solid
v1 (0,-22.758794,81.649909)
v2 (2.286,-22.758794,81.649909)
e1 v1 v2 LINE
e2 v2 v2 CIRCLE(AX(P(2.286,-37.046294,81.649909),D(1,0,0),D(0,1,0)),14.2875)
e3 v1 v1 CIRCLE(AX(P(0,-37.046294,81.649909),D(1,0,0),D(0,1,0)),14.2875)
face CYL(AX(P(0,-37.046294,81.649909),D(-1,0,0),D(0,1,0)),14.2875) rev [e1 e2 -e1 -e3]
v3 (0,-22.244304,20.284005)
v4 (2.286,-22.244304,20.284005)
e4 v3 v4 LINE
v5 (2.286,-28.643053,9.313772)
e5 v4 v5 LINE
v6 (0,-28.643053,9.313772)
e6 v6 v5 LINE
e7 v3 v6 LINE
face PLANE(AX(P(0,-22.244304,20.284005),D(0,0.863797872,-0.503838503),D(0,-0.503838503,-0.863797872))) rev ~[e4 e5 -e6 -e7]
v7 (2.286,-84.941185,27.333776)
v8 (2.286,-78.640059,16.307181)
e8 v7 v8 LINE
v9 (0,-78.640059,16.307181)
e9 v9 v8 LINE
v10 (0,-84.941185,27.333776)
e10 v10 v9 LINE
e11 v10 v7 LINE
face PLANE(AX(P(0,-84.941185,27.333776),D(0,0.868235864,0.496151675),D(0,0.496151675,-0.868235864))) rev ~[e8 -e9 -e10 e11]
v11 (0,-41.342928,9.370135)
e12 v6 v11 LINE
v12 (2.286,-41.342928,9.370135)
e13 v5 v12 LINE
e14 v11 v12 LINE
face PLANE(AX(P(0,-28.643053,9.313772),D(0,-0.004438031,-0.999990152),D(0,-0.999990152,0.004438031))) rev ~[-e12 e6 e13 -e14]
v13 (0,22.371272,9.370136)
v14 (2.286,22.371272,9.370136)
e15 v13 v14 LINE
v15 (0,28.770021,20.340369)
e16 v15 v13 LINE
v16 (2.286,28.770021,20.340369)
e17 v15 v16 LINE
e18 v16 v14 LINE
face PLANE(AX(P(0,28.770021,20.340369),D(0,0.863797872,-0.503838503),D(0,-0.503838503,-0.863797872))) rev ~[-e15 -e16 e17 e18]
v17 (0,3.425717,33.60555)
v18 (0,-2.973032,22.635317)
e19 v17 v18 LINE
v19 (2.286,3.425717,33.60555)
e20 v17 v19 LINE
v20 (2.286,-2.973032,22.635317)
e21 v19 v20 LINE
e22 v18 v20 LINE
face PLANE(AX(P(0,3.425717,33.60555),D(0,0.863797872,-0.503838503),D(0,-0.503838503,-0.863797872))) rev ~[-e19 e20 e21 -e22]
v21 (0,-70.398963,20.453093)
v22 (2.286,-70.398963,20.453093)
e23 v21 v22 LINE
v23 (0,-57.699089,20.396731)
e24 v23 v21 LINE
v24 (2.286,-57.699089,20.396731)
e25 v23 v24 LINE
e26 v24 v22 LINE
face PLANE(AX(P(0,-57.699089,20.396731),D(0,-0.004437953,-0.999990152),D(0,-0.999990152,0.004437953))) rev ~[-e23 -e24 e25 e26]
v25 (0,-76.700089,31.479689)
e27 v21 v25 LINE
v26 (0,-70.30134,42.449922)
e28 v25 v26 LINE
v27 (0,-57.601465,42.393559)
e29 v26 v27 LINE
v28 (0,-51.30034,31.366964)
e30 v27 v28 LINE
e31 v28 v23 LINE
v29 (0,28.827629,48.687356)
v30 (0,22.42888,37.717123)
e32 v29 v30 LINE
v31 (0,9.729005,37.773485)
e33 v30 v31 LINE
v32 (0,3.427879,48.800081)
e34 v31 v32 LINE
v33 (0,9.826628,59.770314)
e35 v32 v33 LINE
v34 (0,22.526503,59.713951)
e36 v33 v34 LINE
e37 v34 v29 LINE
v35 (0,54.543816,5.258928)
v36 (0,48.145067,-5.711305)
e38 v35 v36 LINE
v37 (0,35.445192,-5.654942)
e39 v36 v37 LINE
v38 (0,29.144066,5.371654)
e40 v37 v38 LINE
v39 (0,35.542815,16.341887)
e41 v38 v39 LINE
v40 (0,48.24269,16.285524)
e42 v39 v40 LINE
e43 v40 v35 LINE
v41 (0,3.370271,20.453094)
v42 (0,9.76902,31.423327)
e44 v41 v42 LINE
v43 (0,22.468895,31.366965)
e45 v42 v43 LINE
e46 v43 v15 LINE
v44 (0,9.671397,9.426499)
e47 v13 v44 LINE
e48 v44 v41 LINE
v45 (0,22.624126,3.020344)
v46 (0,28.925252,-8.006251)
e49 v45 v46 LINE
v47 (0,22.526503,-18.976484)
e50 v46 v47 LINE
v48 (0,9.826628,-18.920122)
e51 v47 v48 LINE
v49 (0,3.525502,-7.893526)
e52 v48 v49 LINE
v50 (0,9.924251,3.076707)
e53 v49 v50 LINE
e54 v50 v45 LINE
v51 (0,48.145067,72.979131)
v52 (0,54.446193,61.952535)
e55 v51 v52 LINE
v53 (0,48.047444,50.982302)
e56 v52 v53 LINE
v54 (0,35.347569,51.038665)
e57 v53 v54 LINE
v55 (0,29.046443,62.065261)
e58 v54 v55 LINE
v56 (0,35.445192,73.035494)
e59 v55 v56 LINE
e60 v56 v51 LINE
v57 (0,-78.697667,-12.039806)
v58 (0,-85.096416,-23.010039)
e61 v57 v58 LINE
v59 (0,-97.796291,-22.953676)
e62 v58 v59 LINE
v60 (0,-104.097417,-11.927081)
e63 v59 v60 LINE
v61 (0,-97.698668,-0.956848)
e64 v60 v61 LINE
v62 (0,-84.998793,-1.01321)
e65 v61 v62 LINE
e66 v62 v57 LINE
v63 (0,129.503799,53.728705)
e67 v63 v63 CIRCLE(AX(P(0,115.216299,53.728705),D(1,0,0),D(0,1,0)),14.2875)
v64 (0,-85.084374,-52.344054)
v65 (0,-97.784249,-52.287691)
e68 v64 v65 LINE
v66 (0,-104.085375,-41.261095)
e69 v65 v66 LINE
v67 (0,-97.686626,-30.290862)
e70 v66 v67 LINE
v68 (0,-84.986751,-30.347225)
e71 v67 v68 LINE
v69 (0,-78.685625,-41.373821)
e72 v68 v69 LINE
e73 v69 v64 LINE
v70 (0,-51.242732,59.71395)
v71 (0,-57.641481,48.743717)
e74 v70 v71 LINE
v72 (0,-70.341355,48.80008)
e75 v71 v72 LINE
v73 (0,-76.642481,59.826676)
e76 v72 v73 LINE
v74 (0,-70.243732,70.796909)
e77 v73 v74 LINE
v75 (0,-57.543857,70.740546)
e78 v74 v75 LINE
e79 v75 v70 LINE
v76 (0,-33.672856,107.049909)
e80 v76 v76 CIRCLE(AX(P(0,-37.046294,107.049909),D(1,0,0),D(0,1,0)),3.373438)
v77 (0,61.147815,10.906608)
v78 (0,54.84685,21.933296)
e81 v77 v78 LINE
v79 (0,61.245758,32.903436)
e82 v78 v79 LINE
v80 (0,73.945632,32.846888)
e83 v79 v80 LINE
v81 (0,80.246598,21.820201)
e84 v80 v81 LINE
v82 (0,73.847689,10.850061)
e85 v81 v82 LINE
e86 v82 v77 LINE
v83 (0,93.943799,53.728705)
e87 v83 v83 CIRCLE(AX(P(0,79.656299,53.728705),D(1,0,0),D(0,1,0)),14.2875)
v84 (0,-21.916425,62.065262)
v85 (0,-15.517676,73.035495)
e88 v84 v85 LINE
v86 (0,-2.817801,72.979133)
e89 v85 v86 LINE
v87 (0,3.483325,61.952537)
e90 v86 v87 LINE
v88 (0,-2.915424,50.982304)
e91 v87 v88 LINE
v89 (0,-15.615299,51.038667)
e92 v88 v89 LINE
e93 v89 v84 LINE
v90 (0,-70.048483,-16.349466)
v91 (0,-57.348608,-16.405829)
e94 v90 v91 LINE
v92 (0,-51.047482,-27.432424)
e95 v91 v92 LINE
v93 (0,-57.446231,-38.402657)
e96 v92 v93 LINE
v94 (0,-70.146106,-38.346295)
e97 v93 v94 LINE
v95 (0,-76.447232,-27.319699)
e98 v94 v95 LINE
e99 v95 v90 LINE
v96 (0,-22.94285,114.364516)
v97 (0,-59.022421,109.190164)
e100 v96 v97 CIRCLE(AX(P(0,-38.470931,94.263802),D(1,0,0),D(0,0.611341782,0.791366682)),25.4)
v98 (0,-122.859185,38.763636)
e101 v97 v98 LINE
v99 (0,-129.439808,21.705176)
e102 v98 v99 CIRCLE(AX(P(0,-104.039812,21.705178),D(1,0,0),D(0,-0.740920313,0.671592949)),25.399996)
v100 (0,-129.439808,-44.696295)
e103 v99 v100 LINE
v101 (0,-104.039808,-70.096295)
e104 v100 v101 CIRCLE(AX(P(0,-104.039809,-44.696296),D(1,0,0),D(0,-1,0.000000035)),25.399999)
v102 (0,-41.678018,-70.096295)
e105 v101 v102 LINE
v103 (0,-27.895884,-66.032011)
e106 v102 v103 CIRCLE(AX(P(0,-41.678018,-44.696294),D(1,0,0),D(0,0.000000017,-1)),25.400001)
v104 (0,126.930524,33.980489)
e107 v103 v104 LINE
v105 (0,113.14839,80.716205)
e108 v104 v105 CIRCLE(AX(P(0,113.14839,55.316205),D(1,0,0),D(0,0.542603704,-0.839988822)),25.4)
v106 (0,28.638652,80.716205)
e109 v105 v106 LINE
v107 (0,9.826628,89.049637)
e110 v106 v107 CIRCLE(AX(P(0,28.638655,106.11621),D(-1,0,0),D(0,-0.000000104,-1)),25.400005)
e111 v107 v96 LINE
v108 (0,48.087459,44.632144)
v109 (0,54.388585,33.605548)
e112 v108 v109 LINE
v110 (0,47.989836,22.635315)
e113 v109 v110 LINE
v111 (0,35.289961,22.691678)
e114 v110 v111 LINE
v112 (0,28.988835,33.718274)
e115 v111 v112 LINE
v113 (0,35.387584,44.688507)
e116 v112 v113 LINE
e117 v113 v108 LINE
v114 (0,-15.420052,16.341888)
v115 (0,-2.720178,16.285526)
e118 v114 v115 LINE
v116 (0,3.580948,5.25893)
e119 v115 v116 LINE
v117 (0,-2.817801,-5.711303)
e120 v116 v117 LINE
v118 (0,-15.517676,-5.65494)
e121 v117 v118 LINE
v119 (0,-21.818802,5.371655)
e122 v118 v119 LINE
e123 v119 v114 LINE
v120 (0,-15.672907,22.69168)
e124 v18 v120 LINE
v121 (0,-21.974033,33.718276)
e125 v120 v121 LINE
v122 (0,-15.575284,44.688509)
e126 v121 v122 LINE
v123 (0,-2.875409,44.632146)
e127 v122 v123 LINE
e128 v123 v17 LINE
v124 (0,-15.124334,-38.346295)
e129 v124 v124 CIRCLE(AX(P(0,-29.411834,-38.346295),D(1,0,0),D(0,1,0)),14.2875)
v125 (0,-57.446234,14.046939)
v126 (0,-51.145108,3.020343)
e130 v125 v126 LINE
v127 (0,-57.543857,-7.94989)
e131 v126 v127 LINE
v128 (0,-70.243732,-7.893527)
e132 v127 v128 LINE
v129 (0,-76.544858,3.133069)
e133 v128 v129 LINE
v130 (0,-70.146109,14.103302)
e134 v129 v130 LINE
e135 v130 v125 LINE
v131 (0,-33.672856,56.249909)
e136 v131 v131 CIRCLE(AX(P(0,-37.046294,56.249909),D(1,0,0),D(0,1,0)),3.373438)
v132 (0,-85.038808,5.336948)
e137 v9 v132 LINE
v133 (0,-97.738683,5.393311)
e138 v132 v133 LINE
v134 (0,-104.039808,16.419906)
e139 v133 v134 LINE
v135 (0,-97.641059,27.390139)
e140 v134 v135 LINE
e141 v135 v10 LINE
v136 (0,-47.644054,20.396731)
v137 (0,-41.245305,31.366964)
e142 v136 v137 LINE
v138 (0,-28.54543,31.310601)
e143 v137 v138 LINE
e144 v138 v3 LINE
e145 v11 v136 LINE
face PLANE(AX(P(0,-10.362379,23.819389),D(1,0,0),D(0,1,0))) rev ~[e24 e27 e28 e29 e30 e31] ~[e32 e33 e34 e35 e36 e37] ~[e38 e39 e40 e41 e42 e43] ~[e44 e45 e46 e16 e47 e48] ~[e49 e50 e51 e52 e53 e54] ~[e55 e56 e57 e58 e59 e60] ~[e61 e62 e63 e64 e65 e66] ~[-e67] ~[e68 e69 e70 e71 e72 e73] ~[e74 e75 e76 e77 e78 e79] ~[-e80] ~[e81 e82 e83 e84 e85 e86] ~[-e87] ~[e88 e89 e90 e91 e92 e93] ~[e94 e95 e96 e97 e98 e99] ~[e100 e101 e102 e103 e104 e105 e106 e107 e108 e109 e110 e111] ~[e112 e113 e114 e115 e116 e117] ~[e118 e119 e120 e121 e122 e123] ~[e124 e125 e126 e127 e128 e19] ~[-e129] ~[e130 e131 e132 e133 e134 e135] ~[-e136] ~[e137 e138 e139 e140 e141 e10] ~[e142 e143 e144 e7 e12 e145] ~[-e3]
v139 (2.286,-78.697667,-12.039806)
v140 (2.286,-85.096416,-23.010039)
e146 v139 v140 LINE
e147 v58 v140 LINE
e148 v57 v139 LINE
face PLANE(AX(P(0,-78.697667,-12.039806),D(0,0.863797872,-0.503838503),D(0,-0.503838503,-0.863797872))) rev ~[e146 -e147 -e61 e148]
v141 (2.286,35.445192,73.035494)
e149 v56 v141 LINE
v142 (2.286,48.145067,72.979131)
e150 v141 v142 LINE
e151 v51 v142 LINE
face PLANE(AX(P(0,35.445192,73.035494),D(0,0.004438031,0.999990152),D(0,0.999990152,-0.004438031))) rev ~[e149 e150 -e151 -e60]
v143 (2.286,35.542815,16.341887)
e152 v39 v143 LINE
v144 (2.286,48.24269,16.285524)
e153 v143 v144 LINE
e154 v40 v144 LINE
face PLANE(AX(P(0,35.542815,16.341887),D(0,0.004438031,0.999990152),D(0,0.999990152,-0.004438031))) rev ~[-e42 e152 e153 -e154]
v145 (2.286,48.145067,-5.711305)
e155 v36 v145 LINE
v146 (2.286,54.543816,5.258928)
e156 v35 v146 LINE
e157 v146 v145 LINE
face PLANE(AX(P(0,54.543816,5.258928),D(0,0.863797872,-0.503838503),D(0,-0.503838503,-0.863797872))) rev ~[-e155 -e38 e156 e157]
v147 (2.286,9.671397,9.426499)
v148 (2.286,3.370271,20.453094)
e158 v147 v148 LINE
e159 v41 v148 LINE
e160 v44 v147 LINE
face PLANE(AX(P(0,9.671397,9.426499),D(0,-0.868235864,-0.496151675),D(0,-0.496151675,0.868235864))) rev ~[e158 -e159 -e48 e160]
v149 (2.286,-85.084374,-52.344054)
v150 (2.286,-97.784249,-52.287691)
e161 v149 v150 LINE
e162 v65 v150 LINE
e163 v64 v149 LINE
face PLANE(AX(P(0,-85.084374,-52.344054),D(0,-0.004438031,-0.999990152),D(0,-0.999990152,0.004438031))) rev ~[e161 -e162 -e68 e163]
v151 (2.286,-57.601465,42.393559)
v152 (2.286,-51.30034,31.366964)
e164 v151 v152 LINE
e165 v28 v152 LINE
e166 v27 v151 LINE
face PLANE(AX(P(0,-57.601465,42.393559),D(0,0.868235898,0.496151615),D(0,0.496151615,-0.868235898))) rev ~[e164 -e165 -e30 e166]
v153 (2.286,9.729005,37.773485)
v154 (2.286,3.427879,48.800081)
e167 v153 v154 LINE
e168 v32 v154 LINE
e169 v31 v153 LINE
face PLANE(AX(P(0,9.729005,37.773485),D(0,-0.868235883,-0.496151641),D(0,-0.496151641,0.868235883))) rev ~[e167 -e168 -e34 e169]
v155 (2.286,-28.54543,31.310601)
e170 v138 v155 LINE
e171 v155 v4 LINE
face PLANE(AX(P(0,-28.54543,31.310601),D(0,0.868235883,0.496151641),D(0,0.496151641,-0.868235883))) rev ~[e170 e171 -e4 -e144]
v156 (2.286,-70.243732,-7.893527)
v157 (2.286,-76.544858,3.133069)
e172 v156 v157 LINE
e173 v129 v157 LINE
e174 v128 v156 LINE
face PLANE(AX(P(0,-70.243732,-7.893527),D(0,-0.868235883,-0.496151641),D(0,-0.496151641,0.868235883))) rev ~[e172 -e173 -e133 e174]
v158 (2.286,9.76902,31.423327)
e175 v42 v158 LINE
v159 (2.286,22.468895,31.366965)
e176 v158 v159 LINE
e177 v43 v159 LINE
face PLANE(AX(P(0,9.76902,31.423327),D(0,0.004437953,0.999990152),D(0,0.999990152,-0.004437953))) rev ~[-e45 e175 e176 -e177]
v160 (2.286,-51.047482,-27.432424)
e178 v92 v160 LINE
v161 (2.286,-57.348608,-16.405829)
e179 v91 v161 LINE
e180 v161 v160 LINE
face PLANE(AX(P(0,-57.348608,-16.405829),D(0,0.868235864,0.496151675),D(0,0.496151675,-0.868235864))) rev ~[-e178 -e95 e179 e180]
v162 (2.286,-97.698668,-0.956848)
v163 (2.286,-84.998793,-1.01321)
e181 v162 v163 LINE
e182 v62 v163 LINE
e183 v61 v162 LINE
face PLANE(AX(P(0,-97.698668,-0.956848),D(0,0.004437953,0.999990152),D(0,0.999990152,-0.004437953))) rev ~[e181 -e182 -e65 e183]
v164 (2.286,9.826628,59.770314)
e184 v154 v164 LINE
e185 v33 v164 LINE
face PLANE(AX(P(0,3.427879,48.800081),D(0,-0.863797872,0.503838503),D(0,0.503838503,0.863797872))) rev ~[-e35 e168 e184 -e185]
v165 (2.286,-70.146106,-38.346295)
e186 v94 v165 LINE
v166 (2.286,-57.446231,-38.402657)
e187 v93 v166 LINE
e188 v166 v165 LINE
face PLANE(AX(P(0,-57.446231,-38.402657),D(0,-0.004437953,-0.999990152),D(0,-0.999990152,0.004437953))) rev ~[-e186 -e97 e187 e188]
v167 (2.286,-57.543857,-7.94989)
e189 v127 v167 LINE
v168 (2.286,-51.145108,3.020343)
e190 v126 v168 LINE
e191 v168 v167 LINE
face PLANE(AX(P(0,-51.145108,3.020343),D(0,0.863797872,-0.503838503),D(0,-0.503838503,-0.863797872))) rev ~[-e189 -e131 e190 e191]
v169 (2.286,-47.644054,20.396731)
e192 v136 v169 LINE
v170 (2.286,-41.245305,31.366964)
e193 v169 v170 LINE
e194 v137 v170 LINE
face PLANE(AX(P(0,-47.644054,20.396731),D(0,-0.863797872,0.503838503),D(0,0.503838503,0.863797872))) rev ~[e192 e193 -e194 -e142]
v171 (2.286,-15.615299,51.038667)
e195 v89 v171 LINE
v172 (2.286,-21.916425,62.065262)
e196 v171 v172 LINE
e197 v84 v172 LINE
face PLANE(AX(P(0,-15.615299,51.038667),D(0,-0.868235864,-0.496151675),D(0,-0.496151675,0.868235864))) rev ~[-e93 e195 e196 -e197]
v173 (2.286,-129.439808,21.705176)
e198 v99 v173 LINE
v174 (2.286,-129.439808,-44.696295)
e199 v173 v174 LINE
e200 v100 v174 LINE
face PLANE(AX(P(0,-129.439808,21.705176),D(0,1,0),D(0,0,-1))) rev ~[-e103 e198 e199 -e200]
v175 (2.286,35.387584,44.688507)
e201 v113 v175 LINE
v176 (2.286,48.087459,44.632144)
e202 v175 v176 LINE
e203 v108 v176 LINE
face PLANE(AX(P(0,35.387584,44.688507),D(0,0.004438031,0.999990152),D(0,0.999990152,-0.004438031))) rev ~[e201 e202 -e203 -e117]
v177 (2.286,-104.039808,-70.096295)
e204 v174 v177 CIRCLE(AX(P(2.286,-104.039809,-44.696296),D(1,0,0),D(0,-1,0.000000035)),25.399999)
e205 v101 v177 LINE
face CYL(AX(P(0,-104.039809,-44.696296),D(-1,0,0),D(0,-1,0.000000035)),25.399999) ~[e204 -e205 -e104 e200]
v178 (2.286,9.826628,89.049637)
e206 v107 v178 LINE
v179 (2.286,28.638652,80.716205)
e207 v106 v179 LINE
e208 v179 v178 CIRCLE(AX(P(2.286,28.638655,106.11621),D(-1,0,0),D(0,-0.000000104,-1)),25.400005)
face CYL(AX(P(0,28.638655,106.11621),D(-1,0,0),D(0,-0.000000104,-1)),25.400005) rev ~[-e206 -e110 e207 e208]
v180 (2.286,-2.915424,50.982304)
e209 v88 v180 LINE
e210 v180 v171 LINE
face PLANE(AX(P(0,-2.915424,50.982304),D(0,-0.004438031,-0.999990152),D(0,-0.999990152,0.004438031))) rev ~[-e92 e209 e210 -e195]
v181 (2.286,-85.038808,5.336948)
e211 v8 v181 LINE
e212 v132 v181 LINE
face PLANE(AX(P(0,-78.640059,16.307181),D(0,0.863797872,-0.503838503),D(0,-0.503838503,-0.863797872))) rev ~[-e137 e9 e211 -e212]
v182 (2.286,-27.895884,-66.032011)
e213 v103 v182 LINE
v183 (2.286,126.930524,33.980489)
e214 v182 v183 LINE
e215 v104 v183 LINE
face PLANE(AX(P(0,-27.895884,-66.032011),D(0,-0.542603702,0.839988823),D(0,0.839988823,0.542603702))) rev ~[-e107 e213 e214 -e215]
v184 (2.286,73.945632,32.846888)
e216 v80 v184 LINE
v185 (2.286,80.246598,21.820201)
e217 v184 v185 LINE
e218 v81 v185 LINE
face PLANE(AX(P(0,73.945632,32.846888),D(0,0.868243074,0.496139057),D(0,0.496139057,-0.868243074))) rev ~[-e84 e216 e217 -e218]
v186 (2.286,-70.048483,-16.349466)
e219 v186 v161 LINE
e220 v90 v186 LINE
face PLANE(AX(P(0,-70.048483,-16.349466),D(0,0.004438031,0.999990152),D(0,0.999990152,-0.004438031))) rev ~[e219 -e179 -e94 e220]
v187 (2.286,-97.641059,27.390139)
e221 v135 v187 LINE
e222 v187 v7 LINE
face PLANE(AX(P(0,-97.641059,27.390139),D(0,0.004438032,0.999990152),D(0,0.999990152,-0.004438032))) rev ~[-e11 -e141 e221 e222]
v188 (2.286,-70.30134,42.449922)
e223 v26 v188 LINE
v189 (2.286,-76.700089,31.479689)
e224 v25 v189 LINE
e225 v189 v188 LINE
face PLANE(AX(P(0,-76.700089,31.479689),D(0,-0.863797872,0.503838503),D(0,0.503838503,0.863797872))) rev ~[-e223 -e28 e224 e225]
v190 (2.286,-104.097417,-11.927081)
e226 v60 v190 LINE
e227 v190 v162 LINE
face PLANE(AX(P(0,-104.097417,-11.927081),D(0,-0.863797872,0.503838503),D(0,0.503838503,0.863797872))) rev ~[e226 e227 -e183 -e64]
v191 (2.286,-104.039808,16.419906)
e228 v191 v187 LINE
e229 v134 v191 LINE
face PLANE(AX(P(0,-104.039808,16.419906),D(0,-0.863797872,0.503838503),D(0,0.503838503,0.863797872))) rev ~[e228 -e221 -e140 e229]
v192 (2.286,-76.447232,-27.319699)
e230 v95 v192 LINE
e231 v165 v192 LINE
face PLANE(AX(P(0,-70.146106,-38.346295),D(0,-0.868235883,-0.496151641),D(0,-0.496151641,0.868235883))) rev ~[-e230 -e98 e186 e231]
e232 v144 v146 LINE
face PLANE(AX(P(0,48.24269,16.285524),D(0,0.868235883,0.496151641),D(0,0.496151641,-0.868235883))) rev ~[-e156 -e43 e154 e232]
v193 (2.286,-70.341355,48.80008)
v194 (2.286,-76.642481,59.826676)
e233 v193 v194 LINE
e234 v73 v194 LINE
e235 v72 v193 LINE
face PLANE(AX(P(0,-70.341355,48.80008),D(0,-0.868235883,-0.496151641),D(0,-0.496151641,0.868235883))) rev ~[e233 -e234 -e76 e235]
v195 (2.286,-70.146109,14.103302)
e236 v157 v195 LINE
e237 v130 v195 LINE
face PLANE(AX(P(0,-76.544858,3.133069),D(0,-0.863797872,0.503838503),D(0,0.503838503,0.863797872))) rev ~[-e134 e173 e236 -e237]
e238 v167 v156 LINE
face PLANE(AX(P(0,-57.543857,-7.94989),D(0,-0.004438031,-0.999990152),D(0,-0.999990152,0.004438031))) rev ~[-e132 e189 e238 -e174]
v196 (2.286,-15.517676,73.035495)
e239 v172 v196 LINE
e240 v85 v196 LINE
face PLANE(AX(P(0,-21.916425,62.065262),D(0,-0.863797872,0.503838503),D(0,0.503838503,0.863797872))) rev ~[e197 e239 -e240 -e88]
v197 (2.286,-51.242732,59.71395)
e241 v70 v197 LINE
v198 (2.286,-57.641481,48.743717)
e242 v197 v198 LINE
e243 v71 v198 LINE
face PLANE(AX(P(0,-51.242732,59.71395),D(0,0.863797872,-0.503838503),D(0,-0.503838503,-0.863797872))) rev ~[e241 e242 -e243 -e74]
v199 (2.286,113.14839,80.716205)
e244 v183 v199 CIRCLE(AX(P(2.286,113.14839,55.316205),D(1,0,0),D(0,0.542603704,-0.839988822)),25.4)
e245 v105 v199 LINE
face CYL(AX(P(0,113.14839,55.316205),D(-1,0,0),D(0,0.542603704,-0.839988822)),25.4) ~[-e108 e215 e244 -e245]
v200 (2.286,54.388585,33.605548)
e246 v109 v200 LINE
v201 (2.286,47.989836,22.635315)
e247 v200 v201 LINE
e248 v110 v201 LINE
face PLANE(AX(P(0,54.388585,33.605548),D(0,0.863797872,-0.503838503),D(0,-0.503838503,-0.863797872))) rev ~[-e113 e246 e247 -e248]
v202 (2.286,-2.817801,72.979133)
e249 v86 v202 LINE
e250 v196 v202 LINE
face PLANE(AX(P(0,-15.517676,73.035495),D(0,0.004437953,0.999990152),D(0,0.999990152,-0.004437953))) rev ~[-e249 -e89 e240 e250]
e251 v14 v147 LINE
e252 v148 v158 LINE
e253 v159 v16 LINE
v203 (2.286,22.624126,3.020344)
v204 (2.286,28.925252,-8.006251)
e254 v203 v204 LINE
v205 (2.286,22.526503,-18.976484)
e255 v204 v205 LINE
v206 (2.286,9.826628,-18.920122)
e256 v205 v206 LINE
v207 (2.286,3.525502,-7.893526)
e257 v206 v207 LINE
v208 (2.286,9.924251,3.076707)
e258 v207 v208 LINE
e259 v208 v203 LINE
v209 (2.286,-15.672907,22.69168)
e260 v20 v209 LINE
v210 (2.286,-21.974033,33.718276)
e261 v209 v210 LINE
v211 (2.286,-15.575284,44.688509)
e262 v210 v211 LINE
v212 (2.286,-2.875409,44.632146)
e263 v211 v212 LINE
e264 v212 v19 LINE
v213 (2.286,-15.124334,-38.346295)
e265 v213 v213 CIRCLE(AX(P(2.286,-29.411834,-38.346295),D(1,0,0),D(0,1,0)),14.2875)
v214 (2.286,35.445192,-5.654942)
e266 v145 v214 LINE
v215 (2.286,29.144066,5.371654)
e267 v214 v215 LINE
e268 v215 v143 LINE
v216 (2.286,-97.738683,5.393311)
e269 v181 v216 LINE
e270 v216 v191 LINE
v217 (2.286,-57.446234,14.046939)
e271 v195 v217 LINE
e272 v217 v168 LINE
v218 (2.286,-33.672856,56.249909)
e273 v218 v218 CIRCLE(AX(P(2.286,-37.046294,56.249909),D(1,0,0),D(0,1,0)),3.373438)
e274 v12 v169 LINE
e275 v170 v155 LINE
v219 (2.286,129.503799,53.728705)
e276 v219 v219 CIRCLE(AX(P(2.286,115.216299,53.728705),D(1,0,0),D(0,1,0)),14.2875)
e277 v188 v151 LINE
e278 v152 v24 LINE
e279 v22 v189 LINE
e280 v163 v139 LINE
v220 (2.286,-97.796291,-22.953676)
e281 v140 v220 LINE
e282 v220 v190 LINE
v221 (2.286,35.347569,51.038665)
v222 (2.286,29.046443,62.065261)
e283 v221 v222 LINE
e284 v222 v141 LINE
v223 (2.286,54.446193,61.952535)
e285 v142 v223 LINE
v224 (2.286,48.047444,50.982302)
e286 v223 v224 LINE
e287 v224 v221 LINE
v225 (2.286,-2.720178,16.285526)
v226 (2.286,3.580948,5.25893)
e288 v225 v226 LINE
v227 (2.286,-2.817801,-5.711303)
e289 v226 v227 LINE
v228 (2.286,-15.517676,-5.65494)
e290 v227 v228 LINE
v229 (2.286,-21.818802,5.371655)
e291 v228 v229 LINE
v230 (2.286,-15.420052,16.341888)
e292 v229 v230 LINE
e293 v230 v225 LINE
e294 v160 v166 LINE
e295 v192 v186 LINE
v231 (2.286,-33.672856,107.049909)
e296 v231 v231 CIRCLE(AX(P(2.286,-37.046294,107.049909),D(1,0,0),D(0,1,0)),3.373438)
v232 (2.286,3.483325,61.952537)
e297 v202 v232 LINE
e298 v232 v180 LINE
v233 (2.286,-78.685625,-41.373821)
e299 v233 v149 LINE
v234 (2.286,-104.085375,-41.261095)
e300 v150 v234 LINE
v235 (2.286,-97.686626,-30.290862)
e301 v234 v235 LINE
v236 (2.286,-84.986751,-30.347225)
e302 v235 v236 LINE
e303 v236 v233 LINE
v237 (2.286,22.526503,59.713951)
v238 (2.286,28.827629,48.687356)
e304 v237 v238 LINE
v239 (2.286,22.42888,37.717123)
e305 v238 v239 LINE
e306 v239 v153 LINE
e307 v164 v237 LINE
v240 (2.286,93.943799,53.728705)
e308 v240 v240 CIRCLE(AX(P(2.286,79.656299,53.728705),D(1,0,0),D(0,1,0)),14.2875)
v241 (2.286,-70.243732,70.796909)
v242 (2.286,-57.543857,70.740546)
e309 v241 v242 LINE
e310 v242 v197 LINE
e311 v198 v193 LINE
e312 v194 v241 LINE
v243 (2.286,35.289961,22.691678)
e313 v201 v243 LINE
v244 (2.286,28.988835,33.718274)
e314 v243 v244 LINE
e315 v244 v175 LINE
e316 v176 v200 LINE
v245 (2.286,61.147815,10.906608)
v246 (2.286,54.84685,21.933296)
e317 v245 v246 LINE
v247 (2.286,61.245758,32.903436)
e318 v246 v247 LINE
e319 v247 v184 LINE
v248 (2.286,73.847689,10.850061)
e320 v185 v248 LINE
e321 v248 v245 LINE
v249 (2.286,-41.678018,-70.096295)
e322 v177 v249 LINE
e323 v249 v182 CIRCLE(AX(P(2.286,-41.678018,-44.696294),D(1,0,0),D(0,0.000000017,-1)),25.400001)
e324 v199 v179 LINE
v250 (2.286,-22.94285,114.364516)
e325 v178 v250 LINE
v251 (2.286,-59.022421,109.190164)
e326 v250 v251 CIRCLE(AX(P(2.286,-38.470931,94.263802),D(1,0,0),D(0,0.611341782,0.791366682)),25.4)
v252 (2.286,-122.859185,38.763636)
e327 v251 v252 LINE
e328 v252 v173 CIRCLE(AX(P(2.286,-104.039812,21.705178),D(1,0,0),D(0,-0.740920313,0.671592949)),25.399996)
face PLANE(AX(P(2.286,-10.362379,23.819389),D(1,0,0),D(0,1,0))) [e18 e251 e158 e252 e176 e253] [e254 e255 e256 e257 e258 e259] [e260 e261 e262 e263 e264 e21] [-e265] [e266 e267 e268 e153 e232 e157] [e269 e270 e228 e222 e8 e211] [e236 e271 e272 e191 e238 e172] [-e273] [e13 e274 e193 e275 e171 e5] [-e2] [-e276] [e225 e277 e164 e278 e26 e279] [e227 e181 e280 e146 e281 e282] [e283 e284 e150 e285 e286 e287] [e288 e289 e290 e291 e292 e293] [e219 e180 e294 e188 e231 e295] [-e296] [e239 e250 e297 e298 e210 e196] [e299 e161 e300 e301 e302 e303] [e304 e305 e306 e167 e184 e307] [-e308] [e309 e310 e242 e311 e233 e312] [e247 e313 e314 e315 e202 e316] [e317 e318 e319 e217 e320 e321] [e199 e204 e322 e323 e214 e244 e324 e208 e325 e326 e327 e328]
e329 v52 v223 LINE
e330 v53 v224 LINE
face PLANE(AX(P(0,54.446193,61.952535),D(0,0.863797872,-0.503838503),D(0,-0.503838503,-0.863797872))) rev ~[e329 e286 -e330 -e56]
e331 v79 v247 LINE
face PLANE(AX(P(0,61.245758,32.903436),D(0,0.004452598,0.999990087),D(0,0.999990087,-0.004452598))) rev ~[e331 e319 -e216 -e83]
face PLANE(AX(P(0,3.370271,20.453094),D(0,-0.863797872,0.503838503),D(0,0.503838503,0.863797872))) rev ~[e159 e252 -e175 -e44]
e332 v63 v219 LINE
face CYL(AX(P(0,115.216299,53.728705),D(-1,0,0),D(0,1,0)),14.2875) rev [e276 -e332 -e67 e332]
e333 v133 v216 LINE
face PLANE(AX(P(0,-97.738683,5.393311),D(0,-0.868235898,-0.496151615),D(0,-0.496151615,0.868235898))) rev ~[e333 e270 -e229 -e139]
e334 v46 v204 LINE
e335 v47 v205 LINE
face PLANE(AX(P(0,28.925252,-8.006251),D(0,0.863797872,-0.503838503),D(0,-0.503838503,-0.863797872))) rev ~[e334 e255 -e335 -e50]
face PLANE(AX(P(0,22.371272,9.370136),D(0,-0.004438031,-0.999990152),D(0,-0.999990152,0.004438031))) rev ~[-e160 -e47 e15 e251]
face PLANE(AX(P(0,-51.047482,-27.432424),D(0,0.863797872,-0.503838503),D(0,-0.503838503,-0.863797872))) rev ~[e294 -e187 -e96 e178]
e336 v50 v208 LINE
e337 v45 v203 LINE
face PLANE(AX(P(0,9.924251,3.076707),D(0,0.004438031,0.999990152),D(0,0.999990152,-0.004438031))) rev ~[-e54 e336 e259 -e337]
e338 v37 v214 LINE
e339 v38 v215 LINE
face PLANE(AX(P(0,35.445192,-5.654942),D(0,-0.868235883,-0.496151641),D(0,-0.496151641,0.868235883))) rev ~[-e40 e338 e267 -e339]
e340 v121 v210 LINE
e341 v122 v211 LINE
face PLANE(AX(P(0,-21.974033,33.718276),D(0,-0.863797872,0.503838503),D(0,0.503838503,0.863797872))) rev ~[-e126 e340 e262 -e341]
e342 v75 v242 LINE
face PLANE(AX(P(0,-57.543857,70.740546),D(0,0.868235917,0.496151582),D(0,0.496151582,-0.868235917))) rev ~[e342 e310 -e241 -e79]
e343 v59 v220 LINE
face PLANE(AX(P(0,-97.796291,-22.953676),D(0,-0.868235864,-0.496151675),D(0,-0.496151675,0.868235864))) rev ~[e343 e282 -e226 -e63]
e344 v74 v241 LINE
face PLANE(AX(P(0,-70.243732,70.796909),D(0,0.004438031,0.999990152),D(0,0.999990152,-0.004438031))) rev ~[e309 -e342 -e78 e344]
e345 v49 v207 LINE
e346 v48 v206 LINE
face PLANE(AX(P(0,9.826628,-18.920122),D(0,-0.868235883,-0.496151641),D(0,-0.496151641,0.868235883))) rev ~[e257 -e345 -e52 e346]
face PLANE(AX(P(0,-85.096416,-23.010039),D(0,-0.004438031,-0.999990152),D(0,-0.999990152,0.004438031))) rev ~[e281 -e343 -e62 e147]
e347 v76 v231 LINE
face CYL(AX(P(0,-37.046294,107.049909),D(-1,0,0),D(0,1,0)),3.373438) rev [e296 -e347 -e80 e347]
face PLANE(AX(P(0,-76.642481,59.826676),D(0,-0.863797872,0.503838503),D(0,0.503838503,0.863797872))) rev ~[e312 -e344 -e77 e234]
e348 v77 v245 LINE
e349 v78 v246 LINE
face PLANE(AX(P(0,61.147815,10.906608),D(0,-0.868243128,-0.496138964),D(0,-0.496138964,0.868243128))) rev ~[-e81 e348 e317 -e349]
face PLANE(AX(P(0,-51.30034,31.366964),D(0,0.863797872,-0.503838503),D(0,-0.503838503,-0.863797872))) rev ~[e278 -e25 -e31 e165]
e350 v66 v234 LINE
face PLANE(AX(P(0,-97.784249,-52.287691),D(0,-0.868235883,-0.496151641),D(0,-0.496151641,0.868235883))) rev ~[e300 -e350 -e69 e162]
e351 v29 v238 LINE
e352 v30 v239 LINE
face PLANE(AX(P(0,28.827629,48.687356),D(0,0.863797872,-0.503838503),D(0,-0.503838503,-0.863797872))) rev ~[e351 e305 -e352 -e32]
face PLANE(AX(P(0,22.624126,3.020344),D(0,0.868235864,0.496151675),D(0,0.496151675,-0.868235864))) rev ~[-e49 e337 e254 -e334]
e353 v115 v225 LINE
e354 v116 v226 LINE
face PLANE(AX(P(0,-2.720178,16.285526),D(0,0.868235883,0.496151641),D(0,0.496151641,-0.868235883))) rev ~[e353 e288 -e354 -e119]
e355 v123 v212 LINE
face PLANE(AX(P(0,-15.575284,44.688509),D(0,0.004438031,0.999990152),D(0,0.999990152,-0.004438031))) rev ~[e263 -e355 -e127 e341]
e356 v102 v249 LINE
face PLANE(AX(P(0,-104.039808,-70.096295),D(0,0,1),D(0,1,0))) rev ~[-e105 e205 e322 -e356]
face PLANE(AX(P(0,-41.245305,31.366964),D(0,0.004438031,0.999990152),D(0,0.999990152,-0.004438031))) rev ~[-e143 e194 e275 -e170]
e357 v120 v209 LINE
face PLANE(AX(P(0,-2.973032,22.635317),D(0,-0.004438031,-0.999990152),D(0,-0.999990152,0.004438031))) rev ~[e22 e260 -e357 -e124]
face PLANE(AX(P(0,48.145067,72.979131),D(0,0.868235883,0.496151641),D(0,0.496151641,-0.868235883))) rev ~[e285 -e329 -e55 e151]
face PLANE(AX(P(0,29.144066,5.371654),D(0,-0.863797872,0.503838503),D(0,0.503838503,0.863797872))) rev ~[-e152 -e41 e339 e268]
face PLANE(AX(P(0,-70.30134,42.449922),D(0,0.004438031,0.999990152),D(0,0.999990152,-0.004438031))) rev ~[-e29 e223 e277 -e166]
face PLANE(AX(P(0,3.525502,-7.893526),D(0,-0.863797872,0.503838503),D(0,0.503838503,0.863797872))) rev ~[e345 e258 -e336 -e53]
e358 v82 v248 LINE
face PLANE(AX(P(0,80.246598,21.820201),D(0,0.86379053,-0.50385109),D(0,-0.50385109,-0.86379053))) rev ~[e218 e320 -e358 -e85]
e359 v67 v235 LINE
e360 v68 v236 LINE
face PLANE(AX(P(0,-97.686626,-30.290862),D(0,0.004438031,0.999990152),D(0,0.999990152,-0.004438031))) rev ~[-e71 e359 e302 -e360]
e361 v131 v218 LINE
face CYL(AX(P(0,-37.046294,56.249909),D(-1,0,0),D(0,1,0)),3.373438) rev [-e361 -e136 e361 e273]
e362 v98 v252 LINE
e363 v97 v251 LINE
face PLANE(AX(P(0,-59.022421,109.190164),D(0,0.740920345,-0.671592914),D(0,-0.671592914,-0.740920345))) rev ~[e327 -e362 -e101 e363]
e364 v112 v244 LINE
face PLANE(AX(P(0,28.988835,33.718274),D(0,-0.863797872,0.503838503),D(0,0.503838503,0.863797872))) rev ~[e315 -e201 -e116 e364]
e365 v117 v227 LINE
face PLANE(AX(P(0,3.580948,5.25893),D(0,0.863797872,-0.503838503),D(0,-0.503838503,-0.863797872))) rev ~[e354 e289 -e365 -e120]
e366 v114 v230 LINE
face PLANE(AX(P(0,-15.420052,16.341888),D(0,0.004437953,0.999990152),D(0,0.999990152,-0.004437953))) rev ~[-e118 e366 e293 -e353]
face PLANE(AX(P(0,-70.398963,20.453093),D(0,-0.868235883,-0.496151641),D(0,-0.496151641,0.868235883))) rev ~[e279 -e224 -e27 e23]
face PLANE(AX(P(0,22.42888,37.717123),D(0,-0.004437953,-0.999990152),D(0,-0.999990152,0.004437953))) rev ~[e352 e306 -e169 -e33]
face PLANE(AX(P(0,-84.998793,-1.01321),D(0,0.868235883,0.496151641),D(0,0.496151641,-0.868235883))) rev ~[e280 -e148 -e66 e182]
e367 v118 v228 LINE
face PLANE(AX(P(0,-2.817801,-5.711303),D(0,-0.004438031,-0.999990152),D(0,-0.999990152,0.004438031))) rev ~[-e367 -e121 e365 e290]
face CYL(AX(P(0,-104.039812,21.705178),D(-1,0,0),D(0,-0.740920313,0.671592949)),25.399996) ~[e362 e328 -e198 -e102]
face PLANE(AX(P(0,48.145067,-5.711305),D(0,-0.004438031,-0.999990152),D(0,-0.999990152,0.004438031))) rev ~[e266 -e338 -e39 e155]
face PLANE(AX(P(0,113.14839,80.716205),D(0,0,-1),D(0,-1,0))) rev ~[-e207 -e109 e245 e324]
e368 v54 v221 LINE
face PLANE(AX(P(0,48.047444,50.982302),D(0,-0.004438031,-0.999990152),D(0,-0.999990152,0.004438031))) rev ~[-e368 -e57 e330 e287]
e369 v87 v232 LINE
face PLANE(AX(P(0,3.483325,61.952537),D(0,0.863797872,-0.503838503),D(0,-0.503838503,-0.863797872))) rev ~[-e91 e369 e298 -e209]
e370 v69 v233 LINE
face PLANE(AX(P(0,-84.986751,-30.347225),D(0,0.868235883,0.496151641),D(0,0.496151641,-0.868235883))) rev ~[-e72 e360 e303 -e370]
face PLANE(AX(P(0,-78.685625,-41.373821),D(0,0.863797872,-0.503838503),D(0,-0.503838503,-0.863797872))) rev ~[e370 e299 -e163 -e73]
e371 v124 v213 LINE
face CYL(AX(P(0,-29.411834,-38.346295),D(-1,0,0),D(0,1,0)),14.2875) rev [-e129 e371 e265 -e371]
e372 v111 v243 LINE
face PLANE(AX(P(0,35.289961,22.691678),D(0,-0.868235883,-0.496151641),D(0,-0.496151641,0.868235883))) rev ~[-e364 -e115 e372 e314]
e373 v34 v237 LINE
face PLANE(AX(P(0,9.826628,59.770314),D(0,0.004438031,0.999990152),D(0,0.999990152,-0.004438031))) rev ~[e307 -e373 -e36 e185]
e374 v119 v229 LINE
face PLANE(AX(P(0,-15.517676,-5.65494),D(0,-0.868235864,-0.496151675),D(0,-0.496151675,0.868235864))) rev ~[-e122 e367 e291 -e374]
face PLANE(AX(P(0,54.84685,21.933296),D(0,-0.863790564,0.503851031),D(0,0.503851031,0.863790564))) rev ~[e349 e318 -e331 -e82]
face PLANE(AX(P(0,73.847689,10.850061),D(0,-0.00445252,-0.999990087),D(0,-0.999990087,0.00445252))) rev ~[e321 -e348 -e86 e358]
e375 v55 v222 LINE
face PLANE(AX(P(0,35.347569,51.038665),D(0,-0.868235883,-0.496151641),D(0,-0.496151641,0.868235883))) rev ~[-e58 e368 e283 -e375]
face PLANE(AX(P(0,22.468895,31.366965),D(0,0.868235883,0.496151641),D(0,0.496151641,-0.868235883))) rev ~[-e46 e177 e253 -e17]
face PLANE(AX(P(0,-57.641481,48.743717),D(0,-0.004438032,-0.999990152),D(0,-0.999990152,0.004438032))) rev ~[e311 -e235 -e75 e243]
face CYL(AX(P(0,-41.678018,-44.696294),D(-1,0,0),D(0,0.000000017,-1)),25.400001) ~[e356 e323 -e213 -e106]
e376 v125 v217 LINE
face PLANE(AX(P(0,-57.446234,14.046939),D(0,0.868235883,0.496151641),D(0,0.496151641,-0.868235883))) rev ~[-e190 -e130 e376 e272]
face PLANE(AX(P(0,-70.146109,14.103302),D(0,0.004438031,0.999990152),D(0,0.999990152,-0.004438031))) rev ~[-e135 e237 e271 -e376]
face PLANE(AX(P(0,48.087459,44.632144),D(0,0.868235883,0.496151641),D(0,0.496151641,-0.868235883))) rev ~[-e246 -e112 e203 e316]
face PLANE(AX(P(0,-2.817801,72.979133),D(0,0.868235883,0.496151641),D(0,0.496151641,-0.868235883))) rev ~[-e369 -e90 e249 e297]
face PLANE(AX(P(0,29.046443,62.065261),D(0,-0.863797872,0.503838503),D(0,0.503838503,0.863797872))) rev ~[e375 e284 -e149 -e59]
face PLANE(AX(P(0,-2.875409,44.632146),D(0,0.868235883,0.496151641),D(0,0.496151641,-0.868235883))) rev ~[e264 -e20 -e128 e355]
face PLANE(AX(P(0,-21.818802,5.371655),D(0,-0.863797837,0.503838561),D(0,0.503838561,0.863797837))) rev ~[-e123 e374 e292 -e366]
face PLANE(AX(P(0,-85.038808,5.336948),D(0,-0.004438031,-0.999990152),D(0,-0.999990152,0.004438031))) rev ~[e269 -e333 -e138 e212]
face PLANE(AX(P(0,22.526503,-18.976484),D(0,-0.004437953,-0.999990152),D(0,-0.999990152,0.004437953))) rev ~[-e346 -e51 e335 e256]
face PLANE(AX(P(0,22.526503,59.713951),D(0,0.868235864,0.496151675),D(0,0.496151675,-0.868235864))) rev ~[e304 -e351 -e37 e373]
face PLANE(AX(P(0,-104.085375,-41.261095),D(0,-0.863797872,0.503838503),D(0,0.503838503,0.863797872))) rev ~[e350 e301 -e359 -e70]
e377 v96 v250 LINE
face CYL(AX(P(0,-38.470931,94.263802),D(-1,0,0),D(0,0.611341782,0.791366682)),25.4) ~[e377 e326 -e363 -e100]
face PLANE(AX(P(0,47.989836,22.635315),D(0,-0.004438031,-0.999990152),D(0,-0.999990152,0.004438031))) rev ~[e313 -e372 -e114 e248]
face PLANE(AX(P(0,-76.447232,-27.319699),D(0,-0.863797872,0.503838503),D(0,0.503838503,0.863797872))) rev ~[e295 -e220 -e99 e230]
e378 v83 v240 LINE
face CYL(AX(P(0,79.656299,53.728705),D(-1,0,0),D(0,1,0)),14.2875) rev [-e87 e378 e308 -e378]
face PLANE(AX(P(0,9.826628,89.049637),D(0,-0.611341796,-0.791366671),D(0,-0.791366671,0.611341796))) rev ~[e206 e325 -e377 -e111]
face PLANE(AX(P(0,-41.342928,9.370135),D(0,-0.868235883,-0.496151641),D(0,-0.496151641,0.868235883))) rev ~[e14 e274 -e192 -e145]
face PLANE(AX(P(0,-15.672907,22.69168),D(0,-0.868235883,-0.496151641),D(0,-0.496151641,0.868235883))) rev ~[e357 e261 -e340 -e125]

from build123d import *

# Parameters (mm, degrees)
F0_R     = 14.2875
F0_R_2   = 3.373438
F1_DEPTH = 2.286


with BuildPart() as f1:
    # F0 (on Right) → F1 (new body)
    with BuildSketch(Plane.YZ):
        with BuildLine():
            ThreePointArc((-41.678018, -70.096295), (-34.493562, -69.059045), (-27.895884, -66.032011))
            Line((-27.895884, -66.032011), (126.930524, 33.980489))
            ThreePointArc((126.930524, 33.980489), (137.51114, 62.500661), (113.14839, 80.716205))
            Line((113.14839, 80.716205), (28.638652, 80.716205))
            ThreePointArc((28.638652, 80.716205), (18.351058, 82.892825), (9.826628, 89.049637))
            Line((9.826628, 89.049637), (-22.94285, 114.364516))
            ThreePointArc((-22.94285, 114.364516), (-42.076779, 119.406552), (-59.022421, 109.190164))
            Line((-59.022421, 109.190164), (-122.859185, 38.763636))
            ThreePointArc((-122.859185, 38.763636), (-127.737616, 30.847053), (-129.439808, 21.705176))
            Line((-129.439808, 21.705176), (-129.439808, -44.696295))
            ThreePointArc((-129.439808, -44.696295), (-122.000321, -62.656807), (-104.039808, -70.096295))
            Line((-104.039808, -70.096295), (-41.678018, -70.096295))
        make_face()
        Polygon((-85.084374, -52.344054), (-97.784249, -52.287691), (-104.085375, -41.261095), (-97.686626, -30.290862), (-84.986751, -30.347225), (-78.685625, -41.373821), align=None, mode=Mode.SUBTRACT)
        Polygon((-57.446231, -38.402657), (-70.146106, -38.346295), (-76.447232, -27.319699), (-70.048483, -16.349466), (-57.348608, -16.405829), (-51.047482, -27.432424), align=None, mode=Mode.SUBTRACT)
        with Locations((-29.411834, -38.346295)):
            Circle(F0_R, mode=Mode.SUBTRACT)
        Polygon((-85.096416, -23.010039), (-97.796291, -22.953676), (-104.097417, -11.927081), (-97.698668, -0.956848), (-84.998793, -1.01321), (-78.697667, -12.039806), align=None, mode=Mode.SUBTRACT)
        Polygon((-57.543857, -7.94989), (-70.243732, -7.893527), (-76.544858, 3.133069), (-70.146109, 14.103302), (-57.446234, 14.046939), (-51.145108, 3.020343), align=None, mode=Mode.SUBTRACT)
        Polygon((-85.038808, 5.336948), (-97.738683, 5.393311), (-104.039808, 16.419906), (-97.641059, 27.390139), (-84.941185, 27.333776), (-78.640059, 16.307181), align=None, mode=Mode.SUBTRACT)
        Polygon((-28.643053, 9.313772), (-41.342928, 9.370135), (-47.644054, 20.396731), (-41.245305, 31.366964), (-28.54543, 31.310601), (-22.244304, 20.284005), align=None, mode=Mode.SUBTRACT)
        Polygon((-2.817801, -5.711303), (-15.517676, -5.65494), (-21.818802, 5.371655), (-15.420052, 16.341888), (-2.720178, 16.285526), (3.580948, 5.25893), align=None, mode=Mode.SUBTRACT)
        Polygon((22.526503, -18.976484), (9.826628, -18.920122), (3.525502, -7.893526), (9.924251, 3.076707), (22.624126, 3.020344), (28.925252, -8.006251), align=None, mode=Mode.SUBTRACT)
        Polygon((22.371272, 9.370136), (9.671397, 9.426499), (3.370271, 20.453094), (9.76902, 31.423327), (22.468895, 31.366965), (28.770021, 20.340369), align=None, mode=Mode.SUBTRACT)
        Polygon((48.145067, -5.711305), (35.445192, -5.654942), (29.144066, 5.371654), (35.542815, 16.341887), (48.24269, 16.285524), (54.543816, 5.258928), align=None, mode=Mode.SUBTRACT)
        Polygon((73.847689, 10.850061), (61.147815, 10.906608), (54.84685, 21.933296), (61.245758, 32.903436), (73.945632, 32.846888), (80.246598, 21.820201), align=None, mode=Mode.SUBTRACT)
        Polygon((-57.699089, 20.396731), (-70.398963, 20.453093), (-76.700089, 31.479689), (-70.30134, 42.449922), (-57.601465, 42.393559), (-51.30034, 31.366964), align=None, mode=Mode.SUBTRACT)
        Polygon((-57.641481, 48.743717), (-70.341355, 48.80008), (-76.642481, 59.826676), (-70.243732, 70.796909), (-57.543857, 70.740546), (-51.242732, 59.71395), align=None, mode=Mode.SUBTRACT)
        Polygon((-2.973032, 22.635317), (-15.672907, 22.69168), (-21.974033, 33.718276), (-15.575284, 44.688509), (-2.875409, 44.632146), (3.425717, 33.60555), align=None, mode=Mode.SUBTRACT)
        with Locations((-37.046294, 56.249909)):
            Circle(F0_R_2, mode=Mode.SUBTRACT)
        Polygon((-2.915424, 50.982304), (-15.615299, 51.038667), (-21.916425, 62.065262), (-15.517676, 73.035495), (-2.817801, 72.979133), (3.483325, 61.952537), align=None, mode=Mode.SUBTRACT)
        with Locations((-37.046294, 81.649909)):
            Circle(F0_R, mode=Mode.SUBTRACT)
        with Locations((-37.046294, 107.049909)):
            Circle(F0_R_2, mode=Mode.SUBTRACT)
        Polygon((47.989836, 22.635315), (35.289961, 22.691678), (28.988835, 33.718274), (35.387584, 44.688507), (48.087459, 44.632144), (54.388585, 33.605548), align=None, mode=Mode.SUBTRACT)
        Polygon((22.42888, 37.717123), (9.729005, 37.773485), (3.427879, 48.800081), (9.826628, 59.770314), (22.526503, 59.713951), (28.827629, 48.687356), align=None, mode=Mode.SUBTRACT)
        Polygon((48.047444, 50.982302), (35.347569, 51.038665), (29.046443, 62.065261), (35.445192, 73.035494), (48.145067, 72.979131), (54.446193, 61.952535), align=None, mode=Mode.SUBTRACT)
        with Locations((79.656299, 53.728705)):
            Circle(F0_R, mode=Mode.SUBTRACT)
        with Locations((115.216299, 53.728705)):
            Circle(F0_R, mode=Mode.SUBTRACT)
    extrude(amount=F1_DEPTH)


solid = f1.part
